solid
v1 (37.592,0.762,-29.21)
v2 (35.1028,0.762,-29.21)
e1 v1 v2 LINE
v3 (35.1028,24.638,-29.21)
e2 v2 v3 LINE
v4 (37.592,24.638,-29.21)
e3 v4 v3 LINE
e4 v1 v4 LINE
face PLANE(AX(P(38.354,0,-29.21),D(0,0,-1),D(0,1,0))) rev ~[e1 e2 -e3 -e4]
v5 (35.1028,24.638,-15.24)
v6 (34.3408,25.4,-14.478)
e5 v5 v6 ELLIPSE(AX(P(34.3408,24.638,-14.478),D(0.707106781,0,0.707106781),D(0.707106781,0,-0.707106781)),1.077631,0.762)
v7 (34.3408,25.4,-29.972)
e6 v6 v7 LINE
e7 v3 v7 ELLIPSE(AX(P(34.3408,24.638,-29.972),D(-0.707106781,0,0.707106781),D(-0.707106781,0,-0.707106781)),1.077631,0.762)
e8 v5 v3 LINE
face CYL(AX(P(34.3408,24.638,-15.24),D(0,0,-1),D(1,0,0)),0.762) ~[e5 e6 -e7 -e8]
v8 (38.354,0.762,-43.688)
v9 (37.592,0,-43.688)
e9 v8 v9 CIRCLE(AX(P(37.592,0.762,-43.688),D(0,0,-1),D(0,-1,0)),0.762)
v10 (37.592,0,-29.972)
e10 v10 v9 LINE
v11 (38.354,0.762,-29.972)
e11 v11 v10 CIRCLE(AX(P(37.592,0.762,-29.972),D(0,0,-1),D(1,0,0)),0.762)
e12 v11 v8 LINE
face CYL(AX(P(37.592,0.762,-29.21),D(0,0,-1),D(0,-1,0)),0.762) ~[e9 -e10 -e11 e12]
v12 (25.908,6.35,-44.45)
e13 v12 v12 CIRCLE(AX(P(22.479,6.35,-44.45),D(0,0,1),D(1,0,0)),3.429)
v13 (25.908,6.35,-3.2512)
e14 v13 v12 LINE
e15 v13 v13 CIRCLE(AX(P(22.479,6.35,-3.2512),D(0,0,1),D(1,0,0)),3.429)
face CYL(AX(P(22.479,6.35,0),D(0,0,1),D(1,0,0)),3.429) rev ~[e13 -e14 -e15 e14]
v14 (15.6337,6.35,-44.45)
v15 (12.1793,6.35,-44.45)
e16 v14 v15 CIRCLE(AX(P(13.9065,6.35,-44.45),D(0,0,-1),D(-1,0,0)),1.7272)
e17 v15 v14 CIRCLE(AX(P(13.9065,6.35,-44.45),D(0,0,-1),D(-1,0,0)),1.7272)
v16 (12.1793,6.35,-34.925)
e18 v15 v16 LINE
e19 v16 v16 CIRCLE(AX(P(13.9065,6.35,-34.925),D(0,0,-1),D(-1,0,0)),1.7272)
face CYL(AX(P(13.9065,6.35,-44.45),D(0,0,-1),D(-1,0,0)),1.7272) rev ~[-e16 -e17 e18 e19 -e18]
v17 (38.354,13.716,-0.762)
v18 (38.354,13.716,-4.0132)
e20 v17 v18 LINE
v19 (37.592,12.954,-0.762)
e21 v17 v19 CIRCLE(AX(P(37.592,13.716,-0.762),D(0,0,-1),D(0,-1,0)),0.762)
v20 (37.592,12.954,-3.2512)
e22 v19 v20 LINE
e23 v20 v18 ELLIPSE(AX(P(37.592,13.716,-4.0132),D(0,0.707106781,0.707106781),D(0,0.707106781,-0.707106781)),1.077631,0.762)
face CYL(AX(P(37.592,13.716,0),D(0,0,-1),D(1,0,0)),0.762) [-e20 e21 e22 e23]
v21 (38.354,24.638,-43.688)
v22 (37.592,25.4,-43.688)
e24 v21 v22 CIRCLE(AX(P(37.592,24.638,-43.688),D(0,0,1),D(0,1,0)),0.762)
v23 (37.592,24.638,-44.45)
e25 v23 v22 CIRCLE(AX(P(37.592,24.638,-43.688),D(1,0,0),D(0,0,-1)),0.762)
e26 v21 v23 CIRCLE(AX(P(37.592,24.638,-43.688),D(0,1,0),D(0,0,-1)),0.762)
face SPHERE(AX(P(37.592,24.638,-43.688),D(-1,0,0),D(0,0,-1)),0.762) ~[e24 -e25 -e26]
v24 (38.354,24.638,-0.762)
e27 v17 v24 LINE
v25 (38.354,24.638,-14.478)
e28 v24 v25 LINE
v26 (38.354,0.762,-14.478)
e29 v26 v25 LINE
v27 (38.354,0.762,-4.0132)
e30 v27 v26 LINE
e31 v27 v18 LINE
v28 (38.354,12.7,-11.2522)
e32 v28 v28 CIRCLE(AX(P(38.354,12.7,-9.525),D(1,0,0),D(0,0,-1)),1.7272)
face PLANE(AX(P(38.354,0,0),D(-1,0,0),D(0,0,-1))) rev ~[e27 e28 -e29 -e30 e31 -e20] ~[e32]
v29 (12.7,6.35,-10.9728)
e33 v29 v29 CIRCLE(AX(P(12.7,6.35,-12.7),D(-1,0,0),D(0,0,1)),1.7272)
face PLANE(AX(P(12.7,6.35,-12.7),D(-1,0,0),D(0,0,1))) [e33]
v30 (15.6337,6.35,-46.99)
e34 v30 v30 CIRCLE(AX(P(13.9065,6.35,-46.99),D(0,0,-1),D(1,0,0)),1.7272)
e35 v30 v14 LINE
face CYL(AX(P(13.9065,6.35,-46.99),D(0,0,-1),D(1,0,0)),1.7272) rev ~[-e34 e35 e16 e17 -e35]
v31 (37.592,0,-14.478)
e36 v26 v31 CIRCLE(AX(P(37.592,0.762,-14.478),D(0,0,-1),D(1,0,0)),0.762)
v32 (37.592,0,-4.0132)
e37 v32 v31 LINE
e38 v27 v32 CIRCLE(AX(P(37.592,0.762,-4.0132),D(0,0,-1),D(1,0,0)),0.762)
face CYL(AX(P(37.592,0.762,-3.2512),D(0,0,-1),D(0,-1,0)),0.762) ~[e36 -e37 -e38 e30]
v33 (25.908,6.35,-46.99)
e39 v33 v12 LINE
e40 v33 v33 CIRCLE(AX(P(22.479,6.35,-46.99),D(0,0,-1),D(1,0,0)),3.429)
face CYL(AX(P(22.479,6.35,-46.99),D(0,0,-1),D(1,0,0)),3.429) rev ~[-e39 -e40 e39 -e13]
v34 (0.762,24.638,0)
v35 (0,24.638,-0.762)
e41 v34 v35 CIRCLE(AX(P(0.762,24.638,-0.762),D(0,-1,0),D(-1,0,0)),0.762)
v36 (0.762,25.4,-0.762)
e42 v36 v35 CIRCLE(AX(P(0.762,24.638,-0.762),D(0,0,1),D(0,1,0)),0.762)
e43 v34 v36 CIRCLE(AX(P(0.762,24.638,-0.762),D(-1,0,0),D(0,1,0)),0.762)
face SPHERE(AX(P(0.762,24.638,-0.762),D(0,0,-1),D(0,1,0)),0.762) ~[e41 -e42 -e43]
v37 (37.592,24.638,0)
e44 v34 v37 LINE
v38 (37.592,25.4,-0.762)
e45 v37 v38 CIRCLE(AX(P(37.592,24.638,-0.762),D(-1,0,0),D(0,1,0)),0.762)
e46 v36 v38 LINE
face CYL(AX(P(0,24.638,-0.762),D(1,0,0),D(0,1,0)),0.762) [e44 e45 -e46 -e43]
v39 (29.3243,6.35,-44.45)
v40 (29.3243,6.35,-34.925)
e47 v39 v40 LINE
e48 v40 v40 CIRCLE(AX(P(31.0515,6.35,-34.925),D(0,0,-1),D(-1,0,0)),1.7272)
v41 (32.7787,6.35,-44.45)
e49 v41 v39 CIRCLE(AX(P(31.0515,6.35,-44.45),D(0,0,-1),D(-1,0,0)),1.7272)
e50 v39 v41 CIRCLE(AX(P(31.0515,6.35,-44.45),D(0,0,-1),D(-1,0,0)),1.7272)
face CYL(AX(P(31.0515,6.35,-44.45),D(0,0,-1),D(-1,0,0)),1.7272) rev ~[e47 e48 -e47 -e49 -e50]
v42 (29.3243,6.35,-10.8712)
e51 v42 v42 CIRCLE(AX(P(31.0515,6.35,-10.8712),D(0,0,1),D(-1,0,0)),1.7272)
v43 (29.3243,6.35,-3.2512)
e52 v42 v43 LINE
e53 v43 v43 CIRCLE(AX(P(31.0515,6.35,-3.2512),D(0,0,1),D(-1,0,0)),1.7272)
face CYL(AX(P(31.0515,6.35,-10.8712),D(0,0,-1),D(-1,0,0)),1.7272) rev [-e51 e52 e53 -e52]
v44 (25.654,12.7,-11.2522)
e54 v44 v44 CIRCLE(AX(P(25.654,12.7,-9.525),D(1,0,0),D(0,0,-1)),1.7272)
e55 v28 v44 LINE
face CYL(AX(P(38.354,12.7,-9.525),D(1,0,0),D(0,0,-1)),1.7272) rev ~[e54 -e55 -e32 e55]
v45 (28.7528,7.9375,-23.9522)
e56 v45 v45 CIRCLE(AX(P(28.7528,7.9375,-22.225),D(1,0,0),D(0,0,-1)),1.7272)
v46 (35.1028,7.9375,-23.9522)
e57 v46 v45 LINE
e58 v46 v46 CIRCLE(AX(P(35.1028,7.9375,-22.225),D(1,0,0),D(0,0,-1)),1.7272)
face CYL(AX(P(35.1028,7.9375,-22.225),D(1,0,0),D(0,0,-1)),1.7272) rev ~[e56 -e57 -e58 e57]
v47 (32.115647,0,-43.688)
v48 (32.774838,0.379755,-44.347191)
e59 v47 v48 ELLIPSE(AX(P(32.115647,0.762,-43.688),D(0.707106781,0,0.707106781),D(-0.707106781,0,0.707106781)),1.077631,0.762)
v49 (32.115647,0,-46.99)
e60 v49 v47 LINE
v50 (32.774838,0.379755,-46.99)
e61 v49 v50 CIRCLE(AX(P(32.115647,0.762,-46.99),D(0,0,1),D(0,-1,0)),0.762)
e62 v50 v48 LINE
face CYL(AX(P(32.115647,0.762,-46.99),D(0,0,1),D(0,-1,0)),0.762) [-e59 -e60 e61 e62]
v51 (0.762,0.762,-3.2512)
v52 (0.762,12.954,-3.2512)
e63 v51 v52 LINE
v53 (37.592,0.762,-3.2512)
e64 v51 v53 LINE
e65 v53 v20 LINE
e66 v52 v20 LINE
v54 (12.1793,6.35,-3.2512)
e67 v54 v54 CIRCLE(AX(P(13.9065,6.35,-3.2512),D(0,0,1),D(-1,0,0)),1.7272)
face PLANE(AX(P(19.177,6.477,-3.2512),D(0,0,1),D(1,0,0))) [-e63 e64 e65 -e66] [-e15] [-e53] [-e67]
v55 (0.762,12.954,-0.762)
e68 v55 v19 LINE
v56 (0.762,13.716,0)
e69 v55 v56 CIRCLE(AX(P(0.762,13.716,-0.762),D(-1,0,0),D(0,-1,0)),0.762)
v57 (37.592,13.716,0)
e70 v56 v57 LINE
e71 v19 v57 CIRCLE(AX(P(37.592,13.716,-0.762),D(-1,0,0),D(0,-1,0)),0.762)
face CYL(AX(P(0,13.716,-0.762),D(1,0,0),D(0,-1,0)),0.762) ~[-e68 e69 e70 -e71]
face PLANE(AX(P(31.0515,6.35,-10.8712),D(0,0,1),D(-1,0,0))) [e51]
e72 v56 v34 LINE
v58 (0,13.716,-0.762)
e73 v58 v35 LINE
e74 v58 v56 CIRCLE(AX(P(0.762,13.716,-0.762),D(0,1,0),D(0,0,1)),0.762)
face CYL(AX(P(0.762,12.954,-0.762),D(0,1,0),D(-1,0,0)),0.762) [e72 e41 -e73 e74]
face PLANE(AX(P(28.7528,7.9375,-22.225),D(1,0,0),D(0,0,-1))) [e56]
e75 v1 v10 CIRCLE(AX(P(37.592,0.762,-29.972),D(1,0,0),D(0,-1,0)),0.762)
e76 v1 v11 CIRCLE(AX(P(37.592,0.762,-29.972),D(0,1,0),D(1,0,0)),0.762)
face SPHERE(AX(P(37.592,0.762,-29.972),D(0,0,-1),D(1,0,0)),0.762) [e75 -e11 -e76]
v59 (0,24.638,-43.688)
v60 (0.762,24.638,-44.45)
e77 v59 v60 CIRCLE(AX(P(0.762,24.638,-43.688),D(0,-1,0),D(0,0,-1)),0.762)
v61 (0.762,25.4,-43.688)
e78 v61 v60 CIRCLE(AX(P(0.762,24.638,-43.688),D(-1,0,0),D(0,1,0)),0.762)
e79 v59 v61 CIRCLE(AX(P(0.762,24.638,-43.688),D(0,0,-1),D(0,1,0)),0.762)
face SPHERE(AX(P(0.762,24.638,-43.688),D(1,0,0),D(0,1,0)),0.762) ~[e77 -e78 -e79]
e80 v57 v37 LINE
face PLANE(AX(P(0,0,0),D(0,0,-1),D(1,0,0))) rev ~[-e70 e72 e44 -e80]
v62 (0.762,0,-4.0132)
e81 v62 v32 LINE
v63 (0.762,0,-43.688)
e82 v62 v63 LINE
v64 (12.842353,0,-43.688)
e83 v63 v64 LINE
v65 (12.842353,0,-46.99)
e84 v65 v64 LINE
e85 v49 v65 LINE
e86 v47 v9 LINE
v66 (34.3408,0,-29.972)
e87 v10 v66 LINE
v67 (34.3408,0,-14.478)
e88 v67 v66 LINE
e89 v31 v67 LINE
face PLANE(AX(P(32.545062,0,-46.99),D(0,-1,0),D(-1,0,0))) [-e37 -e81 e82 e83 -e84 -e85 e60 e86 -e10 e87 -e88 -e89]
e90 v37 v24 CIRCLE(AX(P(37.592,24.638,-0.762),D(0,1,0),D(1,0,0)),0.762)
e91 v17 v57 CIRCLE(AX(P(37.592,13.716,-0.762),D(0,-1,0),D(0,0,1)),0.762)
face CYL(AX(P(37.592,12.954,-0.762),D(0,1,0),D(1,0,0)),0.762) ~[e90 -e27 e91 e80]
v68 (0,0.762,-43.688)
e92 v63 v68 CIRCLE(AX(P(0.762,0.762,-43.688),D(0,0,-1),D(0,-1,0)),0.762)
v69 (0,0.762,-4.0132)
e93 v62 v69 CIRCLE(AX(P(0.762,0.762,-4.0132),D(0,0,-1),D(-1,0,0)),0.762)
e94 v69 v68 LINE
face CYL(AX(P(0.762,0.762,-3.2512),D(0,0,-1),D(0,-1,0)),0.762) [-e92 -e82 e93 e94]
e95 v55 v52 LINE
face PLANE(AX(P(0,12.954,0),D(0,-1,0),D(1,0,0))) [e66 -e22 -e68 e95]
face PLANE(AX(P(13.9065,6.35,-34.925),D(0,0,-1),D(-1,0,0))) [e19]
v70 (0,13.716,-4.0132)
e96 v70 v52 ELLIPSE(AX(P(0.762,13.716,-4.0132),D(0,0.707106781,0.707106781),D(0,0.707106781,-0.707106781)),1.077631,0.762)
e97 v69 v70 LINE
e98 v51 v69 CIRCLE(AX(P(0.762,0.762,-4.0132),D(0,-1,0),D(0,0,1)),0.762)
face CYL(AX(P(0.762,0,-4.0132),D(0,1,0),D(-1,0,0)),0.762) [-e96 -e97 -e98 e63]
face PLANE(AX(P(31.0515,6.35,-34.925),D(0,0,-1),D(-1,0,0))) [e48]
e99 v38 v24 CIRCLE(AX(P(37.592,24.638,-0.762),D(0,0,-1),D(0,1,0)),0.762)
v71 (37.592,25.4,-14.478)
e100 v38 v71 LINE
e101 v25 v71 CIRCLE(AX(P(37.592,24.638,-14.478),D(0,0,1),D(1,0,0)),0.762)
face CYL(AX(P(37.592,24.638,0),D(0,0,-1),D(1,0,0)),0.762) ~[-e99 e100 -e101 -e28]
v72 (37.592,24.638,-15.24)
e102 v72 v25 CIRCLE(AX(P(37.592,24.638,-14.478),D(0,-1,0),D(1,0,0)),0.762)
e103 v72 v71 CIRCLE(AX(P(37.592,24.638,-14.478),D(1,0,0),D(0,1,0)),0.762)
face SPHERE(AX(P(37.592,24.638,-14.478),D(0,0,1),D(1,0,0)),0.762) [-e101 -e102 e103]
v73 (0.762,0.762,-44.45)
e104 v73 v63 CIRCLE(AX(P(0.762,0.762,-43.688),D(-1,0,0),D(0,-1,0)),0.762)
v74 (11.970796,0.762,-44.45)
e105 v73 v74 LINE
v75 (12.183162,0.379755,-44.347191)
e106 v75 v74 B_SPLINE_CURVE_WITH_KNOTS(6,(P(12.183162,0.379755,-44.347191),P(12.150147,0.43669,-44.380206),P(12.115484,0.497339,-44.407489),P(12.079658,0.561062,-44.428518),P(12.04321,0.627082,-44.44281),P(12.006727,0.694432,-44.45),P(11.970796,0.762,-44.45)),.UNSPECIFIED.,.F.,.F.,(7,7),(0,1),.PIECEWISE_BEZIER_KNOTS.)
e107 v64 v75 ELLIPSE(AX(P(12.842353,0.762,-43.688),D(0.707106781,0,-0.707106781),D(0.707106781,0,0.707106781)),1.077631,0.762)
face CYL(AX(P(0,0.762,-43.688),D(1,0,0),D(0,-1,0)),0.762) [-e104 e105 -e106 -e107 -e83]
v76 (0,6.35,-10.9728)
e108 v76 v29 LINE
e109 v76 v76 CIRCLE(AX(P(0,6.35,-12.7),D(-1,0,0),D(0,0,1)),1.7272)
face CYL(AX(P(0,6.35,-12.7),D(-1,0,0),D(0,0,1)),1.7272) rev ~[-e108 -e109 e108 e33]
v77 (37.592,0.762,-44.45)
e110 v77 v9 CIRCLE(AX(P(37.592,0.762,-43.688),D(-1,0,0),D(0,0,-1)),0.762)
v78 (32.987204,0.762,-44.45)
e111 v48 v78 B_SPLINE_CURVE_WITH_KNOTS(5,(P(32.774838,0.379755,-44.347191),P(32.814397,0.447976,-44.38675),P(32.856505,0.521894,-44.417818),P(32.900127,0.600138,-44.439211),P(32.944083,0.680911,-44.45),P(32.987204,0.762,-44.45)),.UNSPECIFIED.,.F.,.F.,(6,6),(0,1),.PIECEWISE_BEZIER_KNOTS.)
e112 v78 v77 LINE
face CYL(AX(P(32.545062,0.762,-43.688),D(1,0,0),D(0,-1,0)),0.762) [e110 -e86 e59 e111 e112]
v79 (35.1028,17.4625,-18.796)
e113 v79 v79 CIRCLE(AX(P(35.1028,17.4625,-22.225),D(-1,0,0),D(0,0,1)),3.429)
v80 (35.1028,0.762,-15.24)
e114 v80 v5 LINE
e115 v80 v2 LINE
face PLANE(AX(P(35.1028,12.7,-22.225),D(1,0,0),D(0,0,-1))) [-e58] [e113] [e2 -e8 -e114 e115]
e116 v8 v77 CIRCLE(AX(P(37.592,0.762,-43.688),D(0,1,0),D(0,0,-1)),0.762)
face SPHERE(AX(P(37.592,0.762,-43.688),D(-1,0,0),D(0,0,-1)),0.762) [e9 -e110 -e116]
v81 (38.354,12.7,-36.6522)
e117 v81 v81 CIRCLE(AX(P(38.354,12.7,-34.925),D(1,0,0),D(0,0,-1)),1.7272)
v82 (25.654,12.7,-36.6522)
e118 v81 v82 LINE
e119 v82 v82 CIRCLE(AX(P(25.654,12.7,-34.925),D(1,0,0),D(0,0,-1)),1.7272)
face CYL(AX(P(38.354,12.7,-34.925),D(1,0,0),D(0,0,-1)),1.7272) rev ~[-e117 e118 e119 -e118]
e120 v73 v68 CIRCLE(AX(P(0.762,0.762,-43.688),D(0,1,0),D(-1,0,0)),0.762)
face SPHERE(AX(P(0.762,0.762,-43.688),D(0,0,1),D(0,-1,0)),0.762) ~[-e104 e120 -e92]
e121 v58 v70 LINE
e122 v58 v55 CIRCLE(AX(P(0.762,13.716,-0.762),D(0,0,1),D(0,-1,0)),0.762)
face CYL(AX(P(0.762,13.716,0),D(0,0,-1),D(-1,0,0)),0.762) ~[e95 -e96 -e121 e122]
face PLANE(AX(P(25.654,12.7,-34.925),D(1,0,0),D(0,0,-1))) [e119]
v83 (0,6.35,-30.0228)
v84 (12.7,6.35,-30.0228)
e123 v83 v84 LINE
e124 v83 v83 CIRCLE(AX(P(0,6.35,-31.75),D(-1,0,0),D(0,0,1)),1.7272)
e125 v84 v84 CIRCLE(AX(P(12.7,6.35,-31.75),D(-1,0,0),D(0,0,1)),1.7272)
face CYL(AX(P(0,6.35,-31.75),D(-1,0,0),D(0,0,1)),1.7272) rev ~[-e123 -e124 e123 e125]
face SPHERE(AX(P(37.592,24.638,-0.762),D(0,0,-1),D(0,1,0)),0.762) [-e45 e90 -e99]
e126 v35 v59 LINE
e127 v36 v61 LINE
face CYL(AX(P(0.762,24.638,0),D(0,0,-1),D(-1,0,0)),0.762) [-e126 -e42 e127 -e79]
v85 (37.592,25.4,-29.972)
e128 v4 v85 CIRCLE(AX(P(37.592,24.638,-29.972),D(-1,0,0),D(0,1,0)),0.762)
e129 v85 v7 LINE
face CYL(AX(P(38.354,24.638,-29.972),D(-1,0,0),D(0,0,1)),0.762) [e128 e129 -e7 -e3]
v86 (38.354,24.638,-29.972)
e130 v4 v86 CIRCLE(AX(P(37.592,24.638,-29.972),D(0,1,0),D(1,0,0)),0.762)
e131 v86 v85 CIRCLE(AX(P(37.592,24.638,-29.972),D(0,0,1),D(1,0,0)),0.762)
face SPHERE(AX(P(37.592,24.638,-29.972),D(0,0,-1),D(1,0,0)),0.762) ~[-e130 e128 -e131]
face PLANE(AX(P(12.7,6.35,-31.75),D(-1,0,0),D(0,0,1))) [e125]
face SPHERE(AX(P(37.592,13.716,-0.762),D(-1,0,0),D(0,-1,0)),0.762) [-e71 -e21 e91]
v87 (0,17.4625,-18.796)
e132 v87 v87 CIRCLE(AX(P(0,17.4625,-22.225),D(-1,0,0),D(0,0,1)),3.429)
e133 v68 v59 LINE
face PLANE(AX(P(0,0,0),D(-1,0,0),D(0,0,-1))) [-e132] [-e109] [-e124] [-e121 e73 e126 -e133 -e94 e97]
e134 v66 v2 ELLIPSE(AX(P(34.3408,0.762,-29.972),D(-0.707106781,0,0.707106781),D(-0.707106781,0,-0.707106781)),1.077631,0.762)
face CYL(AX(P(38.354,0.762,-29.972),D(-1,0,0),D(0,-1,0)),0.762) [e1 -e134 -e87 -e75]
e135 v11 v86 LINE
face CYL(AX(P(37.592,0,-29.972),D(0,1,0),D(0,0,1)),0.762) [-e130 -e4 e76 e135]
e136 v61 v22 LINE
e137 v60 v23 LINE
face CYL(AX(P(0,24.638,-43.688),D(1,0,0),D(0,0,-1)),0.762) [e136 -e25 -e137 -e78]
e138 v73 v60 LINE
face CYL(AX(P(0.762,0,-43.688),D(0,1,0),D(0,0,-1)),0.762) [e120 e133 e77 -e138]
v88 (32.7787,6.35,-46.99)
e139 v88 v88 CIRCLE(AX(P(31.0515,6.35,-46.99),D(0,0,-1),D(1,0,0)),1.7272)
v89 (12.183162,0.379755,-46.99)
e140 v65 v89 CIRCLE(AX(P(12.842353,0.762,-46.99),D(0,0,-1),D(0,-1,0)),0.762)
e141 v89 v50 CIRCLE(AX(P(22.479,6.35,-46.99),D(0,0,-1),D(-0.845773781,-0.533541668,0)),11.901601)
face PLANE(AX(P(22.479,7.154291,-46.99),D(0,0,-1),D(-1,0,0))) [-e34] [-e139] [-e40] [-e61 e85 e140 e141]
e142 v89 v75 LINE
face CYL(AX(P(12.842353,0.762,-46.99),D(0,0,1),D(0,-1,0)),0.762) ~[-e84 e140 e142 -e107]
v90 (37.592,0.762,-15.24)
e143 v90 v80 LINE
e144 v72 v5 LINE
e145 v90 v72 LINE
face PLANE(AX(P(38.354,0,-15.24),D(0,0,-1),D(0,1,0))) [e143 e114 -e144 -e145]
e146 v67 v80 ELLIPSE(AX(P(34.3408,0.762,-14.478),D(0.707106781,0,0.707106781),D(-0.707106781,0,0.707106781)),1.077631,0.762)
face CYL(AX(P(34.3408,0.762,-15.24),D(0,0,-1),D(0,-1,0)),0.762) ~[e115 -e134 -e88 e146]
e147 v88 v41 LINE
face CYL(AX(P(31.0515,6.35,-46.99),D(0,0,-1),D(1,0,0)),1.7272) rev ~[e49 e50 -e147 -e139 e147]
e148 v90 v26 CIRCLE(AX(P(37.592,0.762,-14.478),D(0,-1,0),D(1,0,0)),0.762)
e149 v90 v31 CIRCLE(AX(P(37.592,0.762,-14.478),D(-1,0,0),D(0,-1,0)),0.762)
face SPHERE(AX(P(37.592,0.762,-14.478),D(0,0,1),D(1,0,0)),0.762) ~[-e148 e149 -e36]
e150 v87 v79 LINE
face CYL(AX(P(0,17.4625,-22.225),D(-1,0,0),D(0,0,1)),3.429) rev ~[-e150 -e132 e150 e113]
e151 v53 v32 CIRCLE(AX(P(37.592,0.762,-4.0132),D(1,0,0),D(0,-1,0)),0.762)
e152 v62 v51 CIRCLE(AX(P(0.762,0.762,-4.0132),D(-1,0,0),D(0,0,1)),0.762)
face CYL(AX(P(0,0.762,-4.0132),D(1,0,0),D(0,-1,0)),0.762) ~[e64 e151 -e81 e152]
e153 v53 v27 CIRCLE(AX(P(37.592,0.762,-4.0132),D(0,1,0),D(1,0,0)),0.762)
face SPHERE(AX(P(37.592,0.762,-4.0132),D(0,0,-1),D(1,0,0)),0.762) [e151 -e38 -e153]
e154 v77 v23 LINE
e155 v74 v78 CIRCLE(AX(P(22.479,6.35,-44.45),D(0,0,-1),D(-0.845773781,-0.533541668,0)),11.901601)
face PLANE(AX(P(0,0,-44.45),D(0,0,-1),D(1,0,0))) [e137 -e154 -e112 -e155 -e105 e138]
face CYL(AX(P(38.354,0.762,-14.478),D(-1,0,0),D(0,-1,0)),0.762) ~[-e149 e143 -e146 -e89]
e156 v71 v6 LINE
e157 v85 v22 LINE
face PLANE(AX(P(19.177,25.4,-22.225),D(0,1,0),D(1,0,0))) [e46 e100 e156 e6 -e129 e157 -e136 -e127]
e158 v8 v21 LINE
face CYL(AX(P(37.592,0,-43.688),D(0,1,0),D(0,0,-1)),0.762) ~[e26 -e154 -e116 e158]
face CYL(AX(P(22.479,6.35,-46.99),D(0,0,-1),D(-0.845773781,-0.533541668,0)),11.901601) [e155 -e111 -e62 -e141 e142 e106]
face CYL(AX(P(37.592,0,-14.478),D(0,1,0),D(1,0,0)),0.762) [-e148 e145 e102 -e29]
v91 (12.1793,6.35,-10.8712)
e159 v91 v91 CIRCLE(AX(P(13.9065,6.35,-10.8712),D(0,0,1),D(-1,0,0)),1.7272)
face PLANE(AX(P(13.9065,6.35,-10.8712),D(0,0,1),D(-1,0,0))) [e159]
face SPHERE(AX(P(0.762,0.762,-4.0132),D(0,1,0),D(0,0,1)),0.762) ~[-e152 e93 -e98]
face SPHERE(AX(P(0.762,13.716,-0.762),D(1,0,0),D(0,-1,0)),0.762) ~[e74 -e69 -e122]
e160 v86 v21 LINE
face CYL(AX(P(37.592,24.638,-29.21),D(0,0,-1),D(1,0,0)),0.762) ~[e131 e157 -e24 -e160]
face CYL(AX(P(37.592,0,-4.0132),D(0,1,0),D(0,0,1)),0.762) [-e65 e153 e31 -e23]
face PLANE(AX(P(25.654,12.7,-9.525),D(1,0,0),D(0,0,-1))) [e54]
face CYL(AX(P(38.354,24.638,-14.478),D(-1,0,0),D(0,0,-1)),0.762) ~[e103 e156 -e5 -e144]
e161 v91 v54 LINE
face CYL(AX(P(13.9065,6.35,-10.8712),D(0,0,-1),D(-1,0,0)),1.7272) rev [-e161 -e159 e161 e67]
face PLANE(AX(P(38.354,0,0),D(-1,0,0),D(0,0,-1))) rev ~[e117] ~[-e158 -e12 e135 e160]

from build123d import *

# Parameters (mm, degrees)
SKETCH1_W           = 38.354
SKETCH1_H           = 44.45
BOSS_EXTRUDE1_DEPTH = 25.4
SKETCH2_R           = 3.429
CUT_EXTRUDE1_DEPTH  = 44.45
SKETCH3_R           = 1.7272
CUT_EXTRUDE2_DEPTH  = 12.7
SKETCH5_R           = 1.7272
CUT_EXTRUDE4_DEPTH  = 12.7
SKETCH6_R           = 3.429
CUT_EXTRUDE5_DEPTH  = 38.354
SKETCH7_R           = 1.7272
CUT_EXTRUDE6_DEPTH  = 9.525
SKETCH11_W          = 38.354
SKETCH11_H          = 12.954
CUT_EXTRUDE9_DEPTH  = 3.2512
CUT_EXTRUDE7_START  = -7.62
SKETCH8_R           = 1.7272
CUT_EXTRUDE7_DEPTH  = 7.62
BOSS_EXTRUDE2_START = 2.54
SKETCH9_R           = 1.7272
SKETCH9_R_2         = 3.429
BOSS_EXTRUDE2_DEPTH = 2.54
SKETCH12_W          = 13.97
SKETCH12_H          = 25.4
CUT_EXTRUDE10_DEPTH = 3.2512
SKETCH13_R          = 1.7272
CUT_EXTRUDE11_DEPTH = 6.35
FILLET1_R           = 0.762


with BuildPart() as part:
    # Sketch1 → Boss-Extrude1 (new body)
    with BuildSketch(Plane(origin=(0, 0, 0), x_dir=(1, 0, 0), z_dir=(0, 1, 0))):
        with Locations((19.177, 22.225)):
            Rectangle(SKETCH1_W, SKETCH1_H)
    extrude(amount=BOSS_EXTRUDE1_DEPTH)

    # Sketch2 → Cut-Extrude1 (cut)
    with BuildSketch(Plane.XY):
        with Locations((22.479, 6.35)):
            Circle(SKETCH2_R)
    extrude(amount=-CUT_EXTRUDE1_DEPTH, mode=Mode.SUBTRACT)

    # Sketch3 → Cut-Extrude2 (cut)
    with BuildSketch(Plane(origin=(38.354, 0, 0), x_dir=(0, 0, -1), z_dir=(1, 0, 0))):
        with Locations((9.525, 12.7)):
            Circle(SKETCH3_R)
        with Locations((34.925, 12.7)):
            Circle(SKETCH3_R)
    extrude(amount=-CUT_EXTRUDE2_DEPTH, mode=Mode.SUBTRACT)

    # Sketch5 → Cut-Extrude4 (cut)
    with BuildSketch(Plane.ZY):
        with Locations((-31.75, 6.35)):
            Circle(SKETCH5_R)
        with Locations((-12.7, 6.35)):
            Circle(SKETCH5_R)
    extrude(amount=-CUT_EXTRUDE4_DEPTH, mode=Mode.SUBTRACT)

    # Sketch6 → Cut-Extrude5 (cut)
    with BuildSketch(Plane.ZY):
        with Locations((-22.225, 17.4625)):
            Circle(SKETCH6_R)
    extrude(amount=-CUT_EXTRUDE5_DEPTH, mode=Mode.SUBTRACT)

    # Sketch7 → Cut-Extrude6 (cut)
    with BuildSketch(Plane(origin=(0, 0, -44.45), x_dir=(-1, 0, 0), z_dir=(0, 0, -1))):
        with Locations((-31.0515, 6.35)):
            Circle(SKETCH7_R)
        with Locations((-13.9065, 6.35)):
            Circle(SKETCH7_R)
    extrude(amount=-CUT_EXTRUDE6_DEPTH, mode=Mode.SUBTRACT)

    # Sketch11 → Cut-Extrude9 (cut)
    with BuildSketch(Plane.XY):
        with Locations((19.177, 6.477)):
            Rectangle(SKETCH11_W, SKETCH11_H)
    extrude(amount=-CUT_EXTRUDE9_DEPTH, mode=Mode.SUBTRACT)

    # Sketch8 → Cut-Extrude7 (cut)
    with BuildSketch(Plane.XY.offset(-3.2512).offset(CUT_EXTRUDE7_START)):
        with Locations(Location((13.9065, 6.35, 0), (0, 0, 180))):
            Circle(SKETCH8_R)
        with Locations(Location((31.0515, 6.35, 0), (0, 0, 180))):
            Circle(SKETCH8_R)
    extrude(amount=CUT_EXTRUDE7_DEPTH, mode=Mode.SUBTRACT)

    # Sketch9 → Boss-Extrude2 (add)
    with BuildSketch(Plane(origin=(0, 0, -44.45), x_dir=(-1, 0, 0), z_dir=(0, 0, -1)).offset(BOSS_EXTRUDE2_START)):
        with BuildLine():
            Line((-32.545062003, 0), (-12.412937997, 0))
            ThreePointArc((-12.412937997, 0), (-22.479, 18.251600911), (-32.545062003, 0))
        make_face()
        with Locations(Location((-31.0515, 6.35, 0), (0, 0, 180))):
            Circle(SKETCH9_R, mode=Mode.SUBTRACT)
        with Locations(Location((-13.9065, 6.35, 0), (0, 0, 180))):
            Circle(SKETCH9_R, mode=Mode.SUBTRACT)
        with Locations(Location((-22.479, 6.35, 0), (0, 0, 180))):
            Circle(SKETCH9_R_2, mode=Mode.SUBTRACT)
    extrude(amount=-BOSS_EXTRUDE2_DEPTH)

    # Sketch12 → Cut-Extrude10 (cut)
    with BuildSketch(Plane(origin=(38.354, 0, 0), x_dir=(0, 0, -1), z_dir=(1, 0, 0))):
        with Locations((22.225, 12.7)):
            Rectangle(SKETCH12_W, SKETCH12_H)
    extrude(amount=-CUT_EXTRUDE10_DEPTH, mode=Mode.SUBTRACT)

    # Sketch13 → Cut-Extrude11 (cut)
    with BuildSketch(Plane(origin=(35.1028, 0, 0), x_dir=(0, 0, -1), z_dir=(1, 0, 0))):
        with Locations((22.225, 7.9375)):
            Circle(SKETCH13_R)
    extrude(amount=-CUT_EXTRUDE11_DEPTH, mode=Mode.SUBTRACT)

    # Fillet1
    fillet1_edges = [part.edges().sort_by_distance(p)[0] for p in [
        (38.354, 25.4, -7.62),
        (19.177, 25.4, -44.45),
        (0, 25.4, -22.225),
        (35.449531001, 0, -44.45),
        (38.354, 0, -9.2456),
        (19.177, 12.954, 0),
        (0, 6.477, -3.2512),
        (0, 12.954, -1.6256),
        (38.354, 6.477, -3.2512),
        (38.354, 12.954, -1.6256),
        (19.177, 0, -3.2512),
        (0, 0, -23.8506),
        (19.177, 25.4, 0),
        (6.206468999, 0, -44.45),
        (0, 12.7, -44.45),
        (38.354, 12.7, -44.45),
        (38.354, 19.177, 0),
        (12.412937997, 0, -45.72),
        (32.545062003, 0, -45.72),
        (0, 19.177, 0),
        (38.354, 25.4, -36.83),
        (38.354, 0, -36.83),
        (38.354, 12.7, -15.24),
        (38.354, 12.7, -29.21),
        (36.7284, 0, -15.24),
        (35.1028, 25.4, -22.225),
        (36.7284, 25.4, -15.24),
        (36.7284, 25.4, -29.21),
        (35.1028, 0, -22.225),
        (36.7284, 0, -29.21),
    ]]
    fillet(fillet1_edges, radius=FILLET1_R)


solid = part.part
